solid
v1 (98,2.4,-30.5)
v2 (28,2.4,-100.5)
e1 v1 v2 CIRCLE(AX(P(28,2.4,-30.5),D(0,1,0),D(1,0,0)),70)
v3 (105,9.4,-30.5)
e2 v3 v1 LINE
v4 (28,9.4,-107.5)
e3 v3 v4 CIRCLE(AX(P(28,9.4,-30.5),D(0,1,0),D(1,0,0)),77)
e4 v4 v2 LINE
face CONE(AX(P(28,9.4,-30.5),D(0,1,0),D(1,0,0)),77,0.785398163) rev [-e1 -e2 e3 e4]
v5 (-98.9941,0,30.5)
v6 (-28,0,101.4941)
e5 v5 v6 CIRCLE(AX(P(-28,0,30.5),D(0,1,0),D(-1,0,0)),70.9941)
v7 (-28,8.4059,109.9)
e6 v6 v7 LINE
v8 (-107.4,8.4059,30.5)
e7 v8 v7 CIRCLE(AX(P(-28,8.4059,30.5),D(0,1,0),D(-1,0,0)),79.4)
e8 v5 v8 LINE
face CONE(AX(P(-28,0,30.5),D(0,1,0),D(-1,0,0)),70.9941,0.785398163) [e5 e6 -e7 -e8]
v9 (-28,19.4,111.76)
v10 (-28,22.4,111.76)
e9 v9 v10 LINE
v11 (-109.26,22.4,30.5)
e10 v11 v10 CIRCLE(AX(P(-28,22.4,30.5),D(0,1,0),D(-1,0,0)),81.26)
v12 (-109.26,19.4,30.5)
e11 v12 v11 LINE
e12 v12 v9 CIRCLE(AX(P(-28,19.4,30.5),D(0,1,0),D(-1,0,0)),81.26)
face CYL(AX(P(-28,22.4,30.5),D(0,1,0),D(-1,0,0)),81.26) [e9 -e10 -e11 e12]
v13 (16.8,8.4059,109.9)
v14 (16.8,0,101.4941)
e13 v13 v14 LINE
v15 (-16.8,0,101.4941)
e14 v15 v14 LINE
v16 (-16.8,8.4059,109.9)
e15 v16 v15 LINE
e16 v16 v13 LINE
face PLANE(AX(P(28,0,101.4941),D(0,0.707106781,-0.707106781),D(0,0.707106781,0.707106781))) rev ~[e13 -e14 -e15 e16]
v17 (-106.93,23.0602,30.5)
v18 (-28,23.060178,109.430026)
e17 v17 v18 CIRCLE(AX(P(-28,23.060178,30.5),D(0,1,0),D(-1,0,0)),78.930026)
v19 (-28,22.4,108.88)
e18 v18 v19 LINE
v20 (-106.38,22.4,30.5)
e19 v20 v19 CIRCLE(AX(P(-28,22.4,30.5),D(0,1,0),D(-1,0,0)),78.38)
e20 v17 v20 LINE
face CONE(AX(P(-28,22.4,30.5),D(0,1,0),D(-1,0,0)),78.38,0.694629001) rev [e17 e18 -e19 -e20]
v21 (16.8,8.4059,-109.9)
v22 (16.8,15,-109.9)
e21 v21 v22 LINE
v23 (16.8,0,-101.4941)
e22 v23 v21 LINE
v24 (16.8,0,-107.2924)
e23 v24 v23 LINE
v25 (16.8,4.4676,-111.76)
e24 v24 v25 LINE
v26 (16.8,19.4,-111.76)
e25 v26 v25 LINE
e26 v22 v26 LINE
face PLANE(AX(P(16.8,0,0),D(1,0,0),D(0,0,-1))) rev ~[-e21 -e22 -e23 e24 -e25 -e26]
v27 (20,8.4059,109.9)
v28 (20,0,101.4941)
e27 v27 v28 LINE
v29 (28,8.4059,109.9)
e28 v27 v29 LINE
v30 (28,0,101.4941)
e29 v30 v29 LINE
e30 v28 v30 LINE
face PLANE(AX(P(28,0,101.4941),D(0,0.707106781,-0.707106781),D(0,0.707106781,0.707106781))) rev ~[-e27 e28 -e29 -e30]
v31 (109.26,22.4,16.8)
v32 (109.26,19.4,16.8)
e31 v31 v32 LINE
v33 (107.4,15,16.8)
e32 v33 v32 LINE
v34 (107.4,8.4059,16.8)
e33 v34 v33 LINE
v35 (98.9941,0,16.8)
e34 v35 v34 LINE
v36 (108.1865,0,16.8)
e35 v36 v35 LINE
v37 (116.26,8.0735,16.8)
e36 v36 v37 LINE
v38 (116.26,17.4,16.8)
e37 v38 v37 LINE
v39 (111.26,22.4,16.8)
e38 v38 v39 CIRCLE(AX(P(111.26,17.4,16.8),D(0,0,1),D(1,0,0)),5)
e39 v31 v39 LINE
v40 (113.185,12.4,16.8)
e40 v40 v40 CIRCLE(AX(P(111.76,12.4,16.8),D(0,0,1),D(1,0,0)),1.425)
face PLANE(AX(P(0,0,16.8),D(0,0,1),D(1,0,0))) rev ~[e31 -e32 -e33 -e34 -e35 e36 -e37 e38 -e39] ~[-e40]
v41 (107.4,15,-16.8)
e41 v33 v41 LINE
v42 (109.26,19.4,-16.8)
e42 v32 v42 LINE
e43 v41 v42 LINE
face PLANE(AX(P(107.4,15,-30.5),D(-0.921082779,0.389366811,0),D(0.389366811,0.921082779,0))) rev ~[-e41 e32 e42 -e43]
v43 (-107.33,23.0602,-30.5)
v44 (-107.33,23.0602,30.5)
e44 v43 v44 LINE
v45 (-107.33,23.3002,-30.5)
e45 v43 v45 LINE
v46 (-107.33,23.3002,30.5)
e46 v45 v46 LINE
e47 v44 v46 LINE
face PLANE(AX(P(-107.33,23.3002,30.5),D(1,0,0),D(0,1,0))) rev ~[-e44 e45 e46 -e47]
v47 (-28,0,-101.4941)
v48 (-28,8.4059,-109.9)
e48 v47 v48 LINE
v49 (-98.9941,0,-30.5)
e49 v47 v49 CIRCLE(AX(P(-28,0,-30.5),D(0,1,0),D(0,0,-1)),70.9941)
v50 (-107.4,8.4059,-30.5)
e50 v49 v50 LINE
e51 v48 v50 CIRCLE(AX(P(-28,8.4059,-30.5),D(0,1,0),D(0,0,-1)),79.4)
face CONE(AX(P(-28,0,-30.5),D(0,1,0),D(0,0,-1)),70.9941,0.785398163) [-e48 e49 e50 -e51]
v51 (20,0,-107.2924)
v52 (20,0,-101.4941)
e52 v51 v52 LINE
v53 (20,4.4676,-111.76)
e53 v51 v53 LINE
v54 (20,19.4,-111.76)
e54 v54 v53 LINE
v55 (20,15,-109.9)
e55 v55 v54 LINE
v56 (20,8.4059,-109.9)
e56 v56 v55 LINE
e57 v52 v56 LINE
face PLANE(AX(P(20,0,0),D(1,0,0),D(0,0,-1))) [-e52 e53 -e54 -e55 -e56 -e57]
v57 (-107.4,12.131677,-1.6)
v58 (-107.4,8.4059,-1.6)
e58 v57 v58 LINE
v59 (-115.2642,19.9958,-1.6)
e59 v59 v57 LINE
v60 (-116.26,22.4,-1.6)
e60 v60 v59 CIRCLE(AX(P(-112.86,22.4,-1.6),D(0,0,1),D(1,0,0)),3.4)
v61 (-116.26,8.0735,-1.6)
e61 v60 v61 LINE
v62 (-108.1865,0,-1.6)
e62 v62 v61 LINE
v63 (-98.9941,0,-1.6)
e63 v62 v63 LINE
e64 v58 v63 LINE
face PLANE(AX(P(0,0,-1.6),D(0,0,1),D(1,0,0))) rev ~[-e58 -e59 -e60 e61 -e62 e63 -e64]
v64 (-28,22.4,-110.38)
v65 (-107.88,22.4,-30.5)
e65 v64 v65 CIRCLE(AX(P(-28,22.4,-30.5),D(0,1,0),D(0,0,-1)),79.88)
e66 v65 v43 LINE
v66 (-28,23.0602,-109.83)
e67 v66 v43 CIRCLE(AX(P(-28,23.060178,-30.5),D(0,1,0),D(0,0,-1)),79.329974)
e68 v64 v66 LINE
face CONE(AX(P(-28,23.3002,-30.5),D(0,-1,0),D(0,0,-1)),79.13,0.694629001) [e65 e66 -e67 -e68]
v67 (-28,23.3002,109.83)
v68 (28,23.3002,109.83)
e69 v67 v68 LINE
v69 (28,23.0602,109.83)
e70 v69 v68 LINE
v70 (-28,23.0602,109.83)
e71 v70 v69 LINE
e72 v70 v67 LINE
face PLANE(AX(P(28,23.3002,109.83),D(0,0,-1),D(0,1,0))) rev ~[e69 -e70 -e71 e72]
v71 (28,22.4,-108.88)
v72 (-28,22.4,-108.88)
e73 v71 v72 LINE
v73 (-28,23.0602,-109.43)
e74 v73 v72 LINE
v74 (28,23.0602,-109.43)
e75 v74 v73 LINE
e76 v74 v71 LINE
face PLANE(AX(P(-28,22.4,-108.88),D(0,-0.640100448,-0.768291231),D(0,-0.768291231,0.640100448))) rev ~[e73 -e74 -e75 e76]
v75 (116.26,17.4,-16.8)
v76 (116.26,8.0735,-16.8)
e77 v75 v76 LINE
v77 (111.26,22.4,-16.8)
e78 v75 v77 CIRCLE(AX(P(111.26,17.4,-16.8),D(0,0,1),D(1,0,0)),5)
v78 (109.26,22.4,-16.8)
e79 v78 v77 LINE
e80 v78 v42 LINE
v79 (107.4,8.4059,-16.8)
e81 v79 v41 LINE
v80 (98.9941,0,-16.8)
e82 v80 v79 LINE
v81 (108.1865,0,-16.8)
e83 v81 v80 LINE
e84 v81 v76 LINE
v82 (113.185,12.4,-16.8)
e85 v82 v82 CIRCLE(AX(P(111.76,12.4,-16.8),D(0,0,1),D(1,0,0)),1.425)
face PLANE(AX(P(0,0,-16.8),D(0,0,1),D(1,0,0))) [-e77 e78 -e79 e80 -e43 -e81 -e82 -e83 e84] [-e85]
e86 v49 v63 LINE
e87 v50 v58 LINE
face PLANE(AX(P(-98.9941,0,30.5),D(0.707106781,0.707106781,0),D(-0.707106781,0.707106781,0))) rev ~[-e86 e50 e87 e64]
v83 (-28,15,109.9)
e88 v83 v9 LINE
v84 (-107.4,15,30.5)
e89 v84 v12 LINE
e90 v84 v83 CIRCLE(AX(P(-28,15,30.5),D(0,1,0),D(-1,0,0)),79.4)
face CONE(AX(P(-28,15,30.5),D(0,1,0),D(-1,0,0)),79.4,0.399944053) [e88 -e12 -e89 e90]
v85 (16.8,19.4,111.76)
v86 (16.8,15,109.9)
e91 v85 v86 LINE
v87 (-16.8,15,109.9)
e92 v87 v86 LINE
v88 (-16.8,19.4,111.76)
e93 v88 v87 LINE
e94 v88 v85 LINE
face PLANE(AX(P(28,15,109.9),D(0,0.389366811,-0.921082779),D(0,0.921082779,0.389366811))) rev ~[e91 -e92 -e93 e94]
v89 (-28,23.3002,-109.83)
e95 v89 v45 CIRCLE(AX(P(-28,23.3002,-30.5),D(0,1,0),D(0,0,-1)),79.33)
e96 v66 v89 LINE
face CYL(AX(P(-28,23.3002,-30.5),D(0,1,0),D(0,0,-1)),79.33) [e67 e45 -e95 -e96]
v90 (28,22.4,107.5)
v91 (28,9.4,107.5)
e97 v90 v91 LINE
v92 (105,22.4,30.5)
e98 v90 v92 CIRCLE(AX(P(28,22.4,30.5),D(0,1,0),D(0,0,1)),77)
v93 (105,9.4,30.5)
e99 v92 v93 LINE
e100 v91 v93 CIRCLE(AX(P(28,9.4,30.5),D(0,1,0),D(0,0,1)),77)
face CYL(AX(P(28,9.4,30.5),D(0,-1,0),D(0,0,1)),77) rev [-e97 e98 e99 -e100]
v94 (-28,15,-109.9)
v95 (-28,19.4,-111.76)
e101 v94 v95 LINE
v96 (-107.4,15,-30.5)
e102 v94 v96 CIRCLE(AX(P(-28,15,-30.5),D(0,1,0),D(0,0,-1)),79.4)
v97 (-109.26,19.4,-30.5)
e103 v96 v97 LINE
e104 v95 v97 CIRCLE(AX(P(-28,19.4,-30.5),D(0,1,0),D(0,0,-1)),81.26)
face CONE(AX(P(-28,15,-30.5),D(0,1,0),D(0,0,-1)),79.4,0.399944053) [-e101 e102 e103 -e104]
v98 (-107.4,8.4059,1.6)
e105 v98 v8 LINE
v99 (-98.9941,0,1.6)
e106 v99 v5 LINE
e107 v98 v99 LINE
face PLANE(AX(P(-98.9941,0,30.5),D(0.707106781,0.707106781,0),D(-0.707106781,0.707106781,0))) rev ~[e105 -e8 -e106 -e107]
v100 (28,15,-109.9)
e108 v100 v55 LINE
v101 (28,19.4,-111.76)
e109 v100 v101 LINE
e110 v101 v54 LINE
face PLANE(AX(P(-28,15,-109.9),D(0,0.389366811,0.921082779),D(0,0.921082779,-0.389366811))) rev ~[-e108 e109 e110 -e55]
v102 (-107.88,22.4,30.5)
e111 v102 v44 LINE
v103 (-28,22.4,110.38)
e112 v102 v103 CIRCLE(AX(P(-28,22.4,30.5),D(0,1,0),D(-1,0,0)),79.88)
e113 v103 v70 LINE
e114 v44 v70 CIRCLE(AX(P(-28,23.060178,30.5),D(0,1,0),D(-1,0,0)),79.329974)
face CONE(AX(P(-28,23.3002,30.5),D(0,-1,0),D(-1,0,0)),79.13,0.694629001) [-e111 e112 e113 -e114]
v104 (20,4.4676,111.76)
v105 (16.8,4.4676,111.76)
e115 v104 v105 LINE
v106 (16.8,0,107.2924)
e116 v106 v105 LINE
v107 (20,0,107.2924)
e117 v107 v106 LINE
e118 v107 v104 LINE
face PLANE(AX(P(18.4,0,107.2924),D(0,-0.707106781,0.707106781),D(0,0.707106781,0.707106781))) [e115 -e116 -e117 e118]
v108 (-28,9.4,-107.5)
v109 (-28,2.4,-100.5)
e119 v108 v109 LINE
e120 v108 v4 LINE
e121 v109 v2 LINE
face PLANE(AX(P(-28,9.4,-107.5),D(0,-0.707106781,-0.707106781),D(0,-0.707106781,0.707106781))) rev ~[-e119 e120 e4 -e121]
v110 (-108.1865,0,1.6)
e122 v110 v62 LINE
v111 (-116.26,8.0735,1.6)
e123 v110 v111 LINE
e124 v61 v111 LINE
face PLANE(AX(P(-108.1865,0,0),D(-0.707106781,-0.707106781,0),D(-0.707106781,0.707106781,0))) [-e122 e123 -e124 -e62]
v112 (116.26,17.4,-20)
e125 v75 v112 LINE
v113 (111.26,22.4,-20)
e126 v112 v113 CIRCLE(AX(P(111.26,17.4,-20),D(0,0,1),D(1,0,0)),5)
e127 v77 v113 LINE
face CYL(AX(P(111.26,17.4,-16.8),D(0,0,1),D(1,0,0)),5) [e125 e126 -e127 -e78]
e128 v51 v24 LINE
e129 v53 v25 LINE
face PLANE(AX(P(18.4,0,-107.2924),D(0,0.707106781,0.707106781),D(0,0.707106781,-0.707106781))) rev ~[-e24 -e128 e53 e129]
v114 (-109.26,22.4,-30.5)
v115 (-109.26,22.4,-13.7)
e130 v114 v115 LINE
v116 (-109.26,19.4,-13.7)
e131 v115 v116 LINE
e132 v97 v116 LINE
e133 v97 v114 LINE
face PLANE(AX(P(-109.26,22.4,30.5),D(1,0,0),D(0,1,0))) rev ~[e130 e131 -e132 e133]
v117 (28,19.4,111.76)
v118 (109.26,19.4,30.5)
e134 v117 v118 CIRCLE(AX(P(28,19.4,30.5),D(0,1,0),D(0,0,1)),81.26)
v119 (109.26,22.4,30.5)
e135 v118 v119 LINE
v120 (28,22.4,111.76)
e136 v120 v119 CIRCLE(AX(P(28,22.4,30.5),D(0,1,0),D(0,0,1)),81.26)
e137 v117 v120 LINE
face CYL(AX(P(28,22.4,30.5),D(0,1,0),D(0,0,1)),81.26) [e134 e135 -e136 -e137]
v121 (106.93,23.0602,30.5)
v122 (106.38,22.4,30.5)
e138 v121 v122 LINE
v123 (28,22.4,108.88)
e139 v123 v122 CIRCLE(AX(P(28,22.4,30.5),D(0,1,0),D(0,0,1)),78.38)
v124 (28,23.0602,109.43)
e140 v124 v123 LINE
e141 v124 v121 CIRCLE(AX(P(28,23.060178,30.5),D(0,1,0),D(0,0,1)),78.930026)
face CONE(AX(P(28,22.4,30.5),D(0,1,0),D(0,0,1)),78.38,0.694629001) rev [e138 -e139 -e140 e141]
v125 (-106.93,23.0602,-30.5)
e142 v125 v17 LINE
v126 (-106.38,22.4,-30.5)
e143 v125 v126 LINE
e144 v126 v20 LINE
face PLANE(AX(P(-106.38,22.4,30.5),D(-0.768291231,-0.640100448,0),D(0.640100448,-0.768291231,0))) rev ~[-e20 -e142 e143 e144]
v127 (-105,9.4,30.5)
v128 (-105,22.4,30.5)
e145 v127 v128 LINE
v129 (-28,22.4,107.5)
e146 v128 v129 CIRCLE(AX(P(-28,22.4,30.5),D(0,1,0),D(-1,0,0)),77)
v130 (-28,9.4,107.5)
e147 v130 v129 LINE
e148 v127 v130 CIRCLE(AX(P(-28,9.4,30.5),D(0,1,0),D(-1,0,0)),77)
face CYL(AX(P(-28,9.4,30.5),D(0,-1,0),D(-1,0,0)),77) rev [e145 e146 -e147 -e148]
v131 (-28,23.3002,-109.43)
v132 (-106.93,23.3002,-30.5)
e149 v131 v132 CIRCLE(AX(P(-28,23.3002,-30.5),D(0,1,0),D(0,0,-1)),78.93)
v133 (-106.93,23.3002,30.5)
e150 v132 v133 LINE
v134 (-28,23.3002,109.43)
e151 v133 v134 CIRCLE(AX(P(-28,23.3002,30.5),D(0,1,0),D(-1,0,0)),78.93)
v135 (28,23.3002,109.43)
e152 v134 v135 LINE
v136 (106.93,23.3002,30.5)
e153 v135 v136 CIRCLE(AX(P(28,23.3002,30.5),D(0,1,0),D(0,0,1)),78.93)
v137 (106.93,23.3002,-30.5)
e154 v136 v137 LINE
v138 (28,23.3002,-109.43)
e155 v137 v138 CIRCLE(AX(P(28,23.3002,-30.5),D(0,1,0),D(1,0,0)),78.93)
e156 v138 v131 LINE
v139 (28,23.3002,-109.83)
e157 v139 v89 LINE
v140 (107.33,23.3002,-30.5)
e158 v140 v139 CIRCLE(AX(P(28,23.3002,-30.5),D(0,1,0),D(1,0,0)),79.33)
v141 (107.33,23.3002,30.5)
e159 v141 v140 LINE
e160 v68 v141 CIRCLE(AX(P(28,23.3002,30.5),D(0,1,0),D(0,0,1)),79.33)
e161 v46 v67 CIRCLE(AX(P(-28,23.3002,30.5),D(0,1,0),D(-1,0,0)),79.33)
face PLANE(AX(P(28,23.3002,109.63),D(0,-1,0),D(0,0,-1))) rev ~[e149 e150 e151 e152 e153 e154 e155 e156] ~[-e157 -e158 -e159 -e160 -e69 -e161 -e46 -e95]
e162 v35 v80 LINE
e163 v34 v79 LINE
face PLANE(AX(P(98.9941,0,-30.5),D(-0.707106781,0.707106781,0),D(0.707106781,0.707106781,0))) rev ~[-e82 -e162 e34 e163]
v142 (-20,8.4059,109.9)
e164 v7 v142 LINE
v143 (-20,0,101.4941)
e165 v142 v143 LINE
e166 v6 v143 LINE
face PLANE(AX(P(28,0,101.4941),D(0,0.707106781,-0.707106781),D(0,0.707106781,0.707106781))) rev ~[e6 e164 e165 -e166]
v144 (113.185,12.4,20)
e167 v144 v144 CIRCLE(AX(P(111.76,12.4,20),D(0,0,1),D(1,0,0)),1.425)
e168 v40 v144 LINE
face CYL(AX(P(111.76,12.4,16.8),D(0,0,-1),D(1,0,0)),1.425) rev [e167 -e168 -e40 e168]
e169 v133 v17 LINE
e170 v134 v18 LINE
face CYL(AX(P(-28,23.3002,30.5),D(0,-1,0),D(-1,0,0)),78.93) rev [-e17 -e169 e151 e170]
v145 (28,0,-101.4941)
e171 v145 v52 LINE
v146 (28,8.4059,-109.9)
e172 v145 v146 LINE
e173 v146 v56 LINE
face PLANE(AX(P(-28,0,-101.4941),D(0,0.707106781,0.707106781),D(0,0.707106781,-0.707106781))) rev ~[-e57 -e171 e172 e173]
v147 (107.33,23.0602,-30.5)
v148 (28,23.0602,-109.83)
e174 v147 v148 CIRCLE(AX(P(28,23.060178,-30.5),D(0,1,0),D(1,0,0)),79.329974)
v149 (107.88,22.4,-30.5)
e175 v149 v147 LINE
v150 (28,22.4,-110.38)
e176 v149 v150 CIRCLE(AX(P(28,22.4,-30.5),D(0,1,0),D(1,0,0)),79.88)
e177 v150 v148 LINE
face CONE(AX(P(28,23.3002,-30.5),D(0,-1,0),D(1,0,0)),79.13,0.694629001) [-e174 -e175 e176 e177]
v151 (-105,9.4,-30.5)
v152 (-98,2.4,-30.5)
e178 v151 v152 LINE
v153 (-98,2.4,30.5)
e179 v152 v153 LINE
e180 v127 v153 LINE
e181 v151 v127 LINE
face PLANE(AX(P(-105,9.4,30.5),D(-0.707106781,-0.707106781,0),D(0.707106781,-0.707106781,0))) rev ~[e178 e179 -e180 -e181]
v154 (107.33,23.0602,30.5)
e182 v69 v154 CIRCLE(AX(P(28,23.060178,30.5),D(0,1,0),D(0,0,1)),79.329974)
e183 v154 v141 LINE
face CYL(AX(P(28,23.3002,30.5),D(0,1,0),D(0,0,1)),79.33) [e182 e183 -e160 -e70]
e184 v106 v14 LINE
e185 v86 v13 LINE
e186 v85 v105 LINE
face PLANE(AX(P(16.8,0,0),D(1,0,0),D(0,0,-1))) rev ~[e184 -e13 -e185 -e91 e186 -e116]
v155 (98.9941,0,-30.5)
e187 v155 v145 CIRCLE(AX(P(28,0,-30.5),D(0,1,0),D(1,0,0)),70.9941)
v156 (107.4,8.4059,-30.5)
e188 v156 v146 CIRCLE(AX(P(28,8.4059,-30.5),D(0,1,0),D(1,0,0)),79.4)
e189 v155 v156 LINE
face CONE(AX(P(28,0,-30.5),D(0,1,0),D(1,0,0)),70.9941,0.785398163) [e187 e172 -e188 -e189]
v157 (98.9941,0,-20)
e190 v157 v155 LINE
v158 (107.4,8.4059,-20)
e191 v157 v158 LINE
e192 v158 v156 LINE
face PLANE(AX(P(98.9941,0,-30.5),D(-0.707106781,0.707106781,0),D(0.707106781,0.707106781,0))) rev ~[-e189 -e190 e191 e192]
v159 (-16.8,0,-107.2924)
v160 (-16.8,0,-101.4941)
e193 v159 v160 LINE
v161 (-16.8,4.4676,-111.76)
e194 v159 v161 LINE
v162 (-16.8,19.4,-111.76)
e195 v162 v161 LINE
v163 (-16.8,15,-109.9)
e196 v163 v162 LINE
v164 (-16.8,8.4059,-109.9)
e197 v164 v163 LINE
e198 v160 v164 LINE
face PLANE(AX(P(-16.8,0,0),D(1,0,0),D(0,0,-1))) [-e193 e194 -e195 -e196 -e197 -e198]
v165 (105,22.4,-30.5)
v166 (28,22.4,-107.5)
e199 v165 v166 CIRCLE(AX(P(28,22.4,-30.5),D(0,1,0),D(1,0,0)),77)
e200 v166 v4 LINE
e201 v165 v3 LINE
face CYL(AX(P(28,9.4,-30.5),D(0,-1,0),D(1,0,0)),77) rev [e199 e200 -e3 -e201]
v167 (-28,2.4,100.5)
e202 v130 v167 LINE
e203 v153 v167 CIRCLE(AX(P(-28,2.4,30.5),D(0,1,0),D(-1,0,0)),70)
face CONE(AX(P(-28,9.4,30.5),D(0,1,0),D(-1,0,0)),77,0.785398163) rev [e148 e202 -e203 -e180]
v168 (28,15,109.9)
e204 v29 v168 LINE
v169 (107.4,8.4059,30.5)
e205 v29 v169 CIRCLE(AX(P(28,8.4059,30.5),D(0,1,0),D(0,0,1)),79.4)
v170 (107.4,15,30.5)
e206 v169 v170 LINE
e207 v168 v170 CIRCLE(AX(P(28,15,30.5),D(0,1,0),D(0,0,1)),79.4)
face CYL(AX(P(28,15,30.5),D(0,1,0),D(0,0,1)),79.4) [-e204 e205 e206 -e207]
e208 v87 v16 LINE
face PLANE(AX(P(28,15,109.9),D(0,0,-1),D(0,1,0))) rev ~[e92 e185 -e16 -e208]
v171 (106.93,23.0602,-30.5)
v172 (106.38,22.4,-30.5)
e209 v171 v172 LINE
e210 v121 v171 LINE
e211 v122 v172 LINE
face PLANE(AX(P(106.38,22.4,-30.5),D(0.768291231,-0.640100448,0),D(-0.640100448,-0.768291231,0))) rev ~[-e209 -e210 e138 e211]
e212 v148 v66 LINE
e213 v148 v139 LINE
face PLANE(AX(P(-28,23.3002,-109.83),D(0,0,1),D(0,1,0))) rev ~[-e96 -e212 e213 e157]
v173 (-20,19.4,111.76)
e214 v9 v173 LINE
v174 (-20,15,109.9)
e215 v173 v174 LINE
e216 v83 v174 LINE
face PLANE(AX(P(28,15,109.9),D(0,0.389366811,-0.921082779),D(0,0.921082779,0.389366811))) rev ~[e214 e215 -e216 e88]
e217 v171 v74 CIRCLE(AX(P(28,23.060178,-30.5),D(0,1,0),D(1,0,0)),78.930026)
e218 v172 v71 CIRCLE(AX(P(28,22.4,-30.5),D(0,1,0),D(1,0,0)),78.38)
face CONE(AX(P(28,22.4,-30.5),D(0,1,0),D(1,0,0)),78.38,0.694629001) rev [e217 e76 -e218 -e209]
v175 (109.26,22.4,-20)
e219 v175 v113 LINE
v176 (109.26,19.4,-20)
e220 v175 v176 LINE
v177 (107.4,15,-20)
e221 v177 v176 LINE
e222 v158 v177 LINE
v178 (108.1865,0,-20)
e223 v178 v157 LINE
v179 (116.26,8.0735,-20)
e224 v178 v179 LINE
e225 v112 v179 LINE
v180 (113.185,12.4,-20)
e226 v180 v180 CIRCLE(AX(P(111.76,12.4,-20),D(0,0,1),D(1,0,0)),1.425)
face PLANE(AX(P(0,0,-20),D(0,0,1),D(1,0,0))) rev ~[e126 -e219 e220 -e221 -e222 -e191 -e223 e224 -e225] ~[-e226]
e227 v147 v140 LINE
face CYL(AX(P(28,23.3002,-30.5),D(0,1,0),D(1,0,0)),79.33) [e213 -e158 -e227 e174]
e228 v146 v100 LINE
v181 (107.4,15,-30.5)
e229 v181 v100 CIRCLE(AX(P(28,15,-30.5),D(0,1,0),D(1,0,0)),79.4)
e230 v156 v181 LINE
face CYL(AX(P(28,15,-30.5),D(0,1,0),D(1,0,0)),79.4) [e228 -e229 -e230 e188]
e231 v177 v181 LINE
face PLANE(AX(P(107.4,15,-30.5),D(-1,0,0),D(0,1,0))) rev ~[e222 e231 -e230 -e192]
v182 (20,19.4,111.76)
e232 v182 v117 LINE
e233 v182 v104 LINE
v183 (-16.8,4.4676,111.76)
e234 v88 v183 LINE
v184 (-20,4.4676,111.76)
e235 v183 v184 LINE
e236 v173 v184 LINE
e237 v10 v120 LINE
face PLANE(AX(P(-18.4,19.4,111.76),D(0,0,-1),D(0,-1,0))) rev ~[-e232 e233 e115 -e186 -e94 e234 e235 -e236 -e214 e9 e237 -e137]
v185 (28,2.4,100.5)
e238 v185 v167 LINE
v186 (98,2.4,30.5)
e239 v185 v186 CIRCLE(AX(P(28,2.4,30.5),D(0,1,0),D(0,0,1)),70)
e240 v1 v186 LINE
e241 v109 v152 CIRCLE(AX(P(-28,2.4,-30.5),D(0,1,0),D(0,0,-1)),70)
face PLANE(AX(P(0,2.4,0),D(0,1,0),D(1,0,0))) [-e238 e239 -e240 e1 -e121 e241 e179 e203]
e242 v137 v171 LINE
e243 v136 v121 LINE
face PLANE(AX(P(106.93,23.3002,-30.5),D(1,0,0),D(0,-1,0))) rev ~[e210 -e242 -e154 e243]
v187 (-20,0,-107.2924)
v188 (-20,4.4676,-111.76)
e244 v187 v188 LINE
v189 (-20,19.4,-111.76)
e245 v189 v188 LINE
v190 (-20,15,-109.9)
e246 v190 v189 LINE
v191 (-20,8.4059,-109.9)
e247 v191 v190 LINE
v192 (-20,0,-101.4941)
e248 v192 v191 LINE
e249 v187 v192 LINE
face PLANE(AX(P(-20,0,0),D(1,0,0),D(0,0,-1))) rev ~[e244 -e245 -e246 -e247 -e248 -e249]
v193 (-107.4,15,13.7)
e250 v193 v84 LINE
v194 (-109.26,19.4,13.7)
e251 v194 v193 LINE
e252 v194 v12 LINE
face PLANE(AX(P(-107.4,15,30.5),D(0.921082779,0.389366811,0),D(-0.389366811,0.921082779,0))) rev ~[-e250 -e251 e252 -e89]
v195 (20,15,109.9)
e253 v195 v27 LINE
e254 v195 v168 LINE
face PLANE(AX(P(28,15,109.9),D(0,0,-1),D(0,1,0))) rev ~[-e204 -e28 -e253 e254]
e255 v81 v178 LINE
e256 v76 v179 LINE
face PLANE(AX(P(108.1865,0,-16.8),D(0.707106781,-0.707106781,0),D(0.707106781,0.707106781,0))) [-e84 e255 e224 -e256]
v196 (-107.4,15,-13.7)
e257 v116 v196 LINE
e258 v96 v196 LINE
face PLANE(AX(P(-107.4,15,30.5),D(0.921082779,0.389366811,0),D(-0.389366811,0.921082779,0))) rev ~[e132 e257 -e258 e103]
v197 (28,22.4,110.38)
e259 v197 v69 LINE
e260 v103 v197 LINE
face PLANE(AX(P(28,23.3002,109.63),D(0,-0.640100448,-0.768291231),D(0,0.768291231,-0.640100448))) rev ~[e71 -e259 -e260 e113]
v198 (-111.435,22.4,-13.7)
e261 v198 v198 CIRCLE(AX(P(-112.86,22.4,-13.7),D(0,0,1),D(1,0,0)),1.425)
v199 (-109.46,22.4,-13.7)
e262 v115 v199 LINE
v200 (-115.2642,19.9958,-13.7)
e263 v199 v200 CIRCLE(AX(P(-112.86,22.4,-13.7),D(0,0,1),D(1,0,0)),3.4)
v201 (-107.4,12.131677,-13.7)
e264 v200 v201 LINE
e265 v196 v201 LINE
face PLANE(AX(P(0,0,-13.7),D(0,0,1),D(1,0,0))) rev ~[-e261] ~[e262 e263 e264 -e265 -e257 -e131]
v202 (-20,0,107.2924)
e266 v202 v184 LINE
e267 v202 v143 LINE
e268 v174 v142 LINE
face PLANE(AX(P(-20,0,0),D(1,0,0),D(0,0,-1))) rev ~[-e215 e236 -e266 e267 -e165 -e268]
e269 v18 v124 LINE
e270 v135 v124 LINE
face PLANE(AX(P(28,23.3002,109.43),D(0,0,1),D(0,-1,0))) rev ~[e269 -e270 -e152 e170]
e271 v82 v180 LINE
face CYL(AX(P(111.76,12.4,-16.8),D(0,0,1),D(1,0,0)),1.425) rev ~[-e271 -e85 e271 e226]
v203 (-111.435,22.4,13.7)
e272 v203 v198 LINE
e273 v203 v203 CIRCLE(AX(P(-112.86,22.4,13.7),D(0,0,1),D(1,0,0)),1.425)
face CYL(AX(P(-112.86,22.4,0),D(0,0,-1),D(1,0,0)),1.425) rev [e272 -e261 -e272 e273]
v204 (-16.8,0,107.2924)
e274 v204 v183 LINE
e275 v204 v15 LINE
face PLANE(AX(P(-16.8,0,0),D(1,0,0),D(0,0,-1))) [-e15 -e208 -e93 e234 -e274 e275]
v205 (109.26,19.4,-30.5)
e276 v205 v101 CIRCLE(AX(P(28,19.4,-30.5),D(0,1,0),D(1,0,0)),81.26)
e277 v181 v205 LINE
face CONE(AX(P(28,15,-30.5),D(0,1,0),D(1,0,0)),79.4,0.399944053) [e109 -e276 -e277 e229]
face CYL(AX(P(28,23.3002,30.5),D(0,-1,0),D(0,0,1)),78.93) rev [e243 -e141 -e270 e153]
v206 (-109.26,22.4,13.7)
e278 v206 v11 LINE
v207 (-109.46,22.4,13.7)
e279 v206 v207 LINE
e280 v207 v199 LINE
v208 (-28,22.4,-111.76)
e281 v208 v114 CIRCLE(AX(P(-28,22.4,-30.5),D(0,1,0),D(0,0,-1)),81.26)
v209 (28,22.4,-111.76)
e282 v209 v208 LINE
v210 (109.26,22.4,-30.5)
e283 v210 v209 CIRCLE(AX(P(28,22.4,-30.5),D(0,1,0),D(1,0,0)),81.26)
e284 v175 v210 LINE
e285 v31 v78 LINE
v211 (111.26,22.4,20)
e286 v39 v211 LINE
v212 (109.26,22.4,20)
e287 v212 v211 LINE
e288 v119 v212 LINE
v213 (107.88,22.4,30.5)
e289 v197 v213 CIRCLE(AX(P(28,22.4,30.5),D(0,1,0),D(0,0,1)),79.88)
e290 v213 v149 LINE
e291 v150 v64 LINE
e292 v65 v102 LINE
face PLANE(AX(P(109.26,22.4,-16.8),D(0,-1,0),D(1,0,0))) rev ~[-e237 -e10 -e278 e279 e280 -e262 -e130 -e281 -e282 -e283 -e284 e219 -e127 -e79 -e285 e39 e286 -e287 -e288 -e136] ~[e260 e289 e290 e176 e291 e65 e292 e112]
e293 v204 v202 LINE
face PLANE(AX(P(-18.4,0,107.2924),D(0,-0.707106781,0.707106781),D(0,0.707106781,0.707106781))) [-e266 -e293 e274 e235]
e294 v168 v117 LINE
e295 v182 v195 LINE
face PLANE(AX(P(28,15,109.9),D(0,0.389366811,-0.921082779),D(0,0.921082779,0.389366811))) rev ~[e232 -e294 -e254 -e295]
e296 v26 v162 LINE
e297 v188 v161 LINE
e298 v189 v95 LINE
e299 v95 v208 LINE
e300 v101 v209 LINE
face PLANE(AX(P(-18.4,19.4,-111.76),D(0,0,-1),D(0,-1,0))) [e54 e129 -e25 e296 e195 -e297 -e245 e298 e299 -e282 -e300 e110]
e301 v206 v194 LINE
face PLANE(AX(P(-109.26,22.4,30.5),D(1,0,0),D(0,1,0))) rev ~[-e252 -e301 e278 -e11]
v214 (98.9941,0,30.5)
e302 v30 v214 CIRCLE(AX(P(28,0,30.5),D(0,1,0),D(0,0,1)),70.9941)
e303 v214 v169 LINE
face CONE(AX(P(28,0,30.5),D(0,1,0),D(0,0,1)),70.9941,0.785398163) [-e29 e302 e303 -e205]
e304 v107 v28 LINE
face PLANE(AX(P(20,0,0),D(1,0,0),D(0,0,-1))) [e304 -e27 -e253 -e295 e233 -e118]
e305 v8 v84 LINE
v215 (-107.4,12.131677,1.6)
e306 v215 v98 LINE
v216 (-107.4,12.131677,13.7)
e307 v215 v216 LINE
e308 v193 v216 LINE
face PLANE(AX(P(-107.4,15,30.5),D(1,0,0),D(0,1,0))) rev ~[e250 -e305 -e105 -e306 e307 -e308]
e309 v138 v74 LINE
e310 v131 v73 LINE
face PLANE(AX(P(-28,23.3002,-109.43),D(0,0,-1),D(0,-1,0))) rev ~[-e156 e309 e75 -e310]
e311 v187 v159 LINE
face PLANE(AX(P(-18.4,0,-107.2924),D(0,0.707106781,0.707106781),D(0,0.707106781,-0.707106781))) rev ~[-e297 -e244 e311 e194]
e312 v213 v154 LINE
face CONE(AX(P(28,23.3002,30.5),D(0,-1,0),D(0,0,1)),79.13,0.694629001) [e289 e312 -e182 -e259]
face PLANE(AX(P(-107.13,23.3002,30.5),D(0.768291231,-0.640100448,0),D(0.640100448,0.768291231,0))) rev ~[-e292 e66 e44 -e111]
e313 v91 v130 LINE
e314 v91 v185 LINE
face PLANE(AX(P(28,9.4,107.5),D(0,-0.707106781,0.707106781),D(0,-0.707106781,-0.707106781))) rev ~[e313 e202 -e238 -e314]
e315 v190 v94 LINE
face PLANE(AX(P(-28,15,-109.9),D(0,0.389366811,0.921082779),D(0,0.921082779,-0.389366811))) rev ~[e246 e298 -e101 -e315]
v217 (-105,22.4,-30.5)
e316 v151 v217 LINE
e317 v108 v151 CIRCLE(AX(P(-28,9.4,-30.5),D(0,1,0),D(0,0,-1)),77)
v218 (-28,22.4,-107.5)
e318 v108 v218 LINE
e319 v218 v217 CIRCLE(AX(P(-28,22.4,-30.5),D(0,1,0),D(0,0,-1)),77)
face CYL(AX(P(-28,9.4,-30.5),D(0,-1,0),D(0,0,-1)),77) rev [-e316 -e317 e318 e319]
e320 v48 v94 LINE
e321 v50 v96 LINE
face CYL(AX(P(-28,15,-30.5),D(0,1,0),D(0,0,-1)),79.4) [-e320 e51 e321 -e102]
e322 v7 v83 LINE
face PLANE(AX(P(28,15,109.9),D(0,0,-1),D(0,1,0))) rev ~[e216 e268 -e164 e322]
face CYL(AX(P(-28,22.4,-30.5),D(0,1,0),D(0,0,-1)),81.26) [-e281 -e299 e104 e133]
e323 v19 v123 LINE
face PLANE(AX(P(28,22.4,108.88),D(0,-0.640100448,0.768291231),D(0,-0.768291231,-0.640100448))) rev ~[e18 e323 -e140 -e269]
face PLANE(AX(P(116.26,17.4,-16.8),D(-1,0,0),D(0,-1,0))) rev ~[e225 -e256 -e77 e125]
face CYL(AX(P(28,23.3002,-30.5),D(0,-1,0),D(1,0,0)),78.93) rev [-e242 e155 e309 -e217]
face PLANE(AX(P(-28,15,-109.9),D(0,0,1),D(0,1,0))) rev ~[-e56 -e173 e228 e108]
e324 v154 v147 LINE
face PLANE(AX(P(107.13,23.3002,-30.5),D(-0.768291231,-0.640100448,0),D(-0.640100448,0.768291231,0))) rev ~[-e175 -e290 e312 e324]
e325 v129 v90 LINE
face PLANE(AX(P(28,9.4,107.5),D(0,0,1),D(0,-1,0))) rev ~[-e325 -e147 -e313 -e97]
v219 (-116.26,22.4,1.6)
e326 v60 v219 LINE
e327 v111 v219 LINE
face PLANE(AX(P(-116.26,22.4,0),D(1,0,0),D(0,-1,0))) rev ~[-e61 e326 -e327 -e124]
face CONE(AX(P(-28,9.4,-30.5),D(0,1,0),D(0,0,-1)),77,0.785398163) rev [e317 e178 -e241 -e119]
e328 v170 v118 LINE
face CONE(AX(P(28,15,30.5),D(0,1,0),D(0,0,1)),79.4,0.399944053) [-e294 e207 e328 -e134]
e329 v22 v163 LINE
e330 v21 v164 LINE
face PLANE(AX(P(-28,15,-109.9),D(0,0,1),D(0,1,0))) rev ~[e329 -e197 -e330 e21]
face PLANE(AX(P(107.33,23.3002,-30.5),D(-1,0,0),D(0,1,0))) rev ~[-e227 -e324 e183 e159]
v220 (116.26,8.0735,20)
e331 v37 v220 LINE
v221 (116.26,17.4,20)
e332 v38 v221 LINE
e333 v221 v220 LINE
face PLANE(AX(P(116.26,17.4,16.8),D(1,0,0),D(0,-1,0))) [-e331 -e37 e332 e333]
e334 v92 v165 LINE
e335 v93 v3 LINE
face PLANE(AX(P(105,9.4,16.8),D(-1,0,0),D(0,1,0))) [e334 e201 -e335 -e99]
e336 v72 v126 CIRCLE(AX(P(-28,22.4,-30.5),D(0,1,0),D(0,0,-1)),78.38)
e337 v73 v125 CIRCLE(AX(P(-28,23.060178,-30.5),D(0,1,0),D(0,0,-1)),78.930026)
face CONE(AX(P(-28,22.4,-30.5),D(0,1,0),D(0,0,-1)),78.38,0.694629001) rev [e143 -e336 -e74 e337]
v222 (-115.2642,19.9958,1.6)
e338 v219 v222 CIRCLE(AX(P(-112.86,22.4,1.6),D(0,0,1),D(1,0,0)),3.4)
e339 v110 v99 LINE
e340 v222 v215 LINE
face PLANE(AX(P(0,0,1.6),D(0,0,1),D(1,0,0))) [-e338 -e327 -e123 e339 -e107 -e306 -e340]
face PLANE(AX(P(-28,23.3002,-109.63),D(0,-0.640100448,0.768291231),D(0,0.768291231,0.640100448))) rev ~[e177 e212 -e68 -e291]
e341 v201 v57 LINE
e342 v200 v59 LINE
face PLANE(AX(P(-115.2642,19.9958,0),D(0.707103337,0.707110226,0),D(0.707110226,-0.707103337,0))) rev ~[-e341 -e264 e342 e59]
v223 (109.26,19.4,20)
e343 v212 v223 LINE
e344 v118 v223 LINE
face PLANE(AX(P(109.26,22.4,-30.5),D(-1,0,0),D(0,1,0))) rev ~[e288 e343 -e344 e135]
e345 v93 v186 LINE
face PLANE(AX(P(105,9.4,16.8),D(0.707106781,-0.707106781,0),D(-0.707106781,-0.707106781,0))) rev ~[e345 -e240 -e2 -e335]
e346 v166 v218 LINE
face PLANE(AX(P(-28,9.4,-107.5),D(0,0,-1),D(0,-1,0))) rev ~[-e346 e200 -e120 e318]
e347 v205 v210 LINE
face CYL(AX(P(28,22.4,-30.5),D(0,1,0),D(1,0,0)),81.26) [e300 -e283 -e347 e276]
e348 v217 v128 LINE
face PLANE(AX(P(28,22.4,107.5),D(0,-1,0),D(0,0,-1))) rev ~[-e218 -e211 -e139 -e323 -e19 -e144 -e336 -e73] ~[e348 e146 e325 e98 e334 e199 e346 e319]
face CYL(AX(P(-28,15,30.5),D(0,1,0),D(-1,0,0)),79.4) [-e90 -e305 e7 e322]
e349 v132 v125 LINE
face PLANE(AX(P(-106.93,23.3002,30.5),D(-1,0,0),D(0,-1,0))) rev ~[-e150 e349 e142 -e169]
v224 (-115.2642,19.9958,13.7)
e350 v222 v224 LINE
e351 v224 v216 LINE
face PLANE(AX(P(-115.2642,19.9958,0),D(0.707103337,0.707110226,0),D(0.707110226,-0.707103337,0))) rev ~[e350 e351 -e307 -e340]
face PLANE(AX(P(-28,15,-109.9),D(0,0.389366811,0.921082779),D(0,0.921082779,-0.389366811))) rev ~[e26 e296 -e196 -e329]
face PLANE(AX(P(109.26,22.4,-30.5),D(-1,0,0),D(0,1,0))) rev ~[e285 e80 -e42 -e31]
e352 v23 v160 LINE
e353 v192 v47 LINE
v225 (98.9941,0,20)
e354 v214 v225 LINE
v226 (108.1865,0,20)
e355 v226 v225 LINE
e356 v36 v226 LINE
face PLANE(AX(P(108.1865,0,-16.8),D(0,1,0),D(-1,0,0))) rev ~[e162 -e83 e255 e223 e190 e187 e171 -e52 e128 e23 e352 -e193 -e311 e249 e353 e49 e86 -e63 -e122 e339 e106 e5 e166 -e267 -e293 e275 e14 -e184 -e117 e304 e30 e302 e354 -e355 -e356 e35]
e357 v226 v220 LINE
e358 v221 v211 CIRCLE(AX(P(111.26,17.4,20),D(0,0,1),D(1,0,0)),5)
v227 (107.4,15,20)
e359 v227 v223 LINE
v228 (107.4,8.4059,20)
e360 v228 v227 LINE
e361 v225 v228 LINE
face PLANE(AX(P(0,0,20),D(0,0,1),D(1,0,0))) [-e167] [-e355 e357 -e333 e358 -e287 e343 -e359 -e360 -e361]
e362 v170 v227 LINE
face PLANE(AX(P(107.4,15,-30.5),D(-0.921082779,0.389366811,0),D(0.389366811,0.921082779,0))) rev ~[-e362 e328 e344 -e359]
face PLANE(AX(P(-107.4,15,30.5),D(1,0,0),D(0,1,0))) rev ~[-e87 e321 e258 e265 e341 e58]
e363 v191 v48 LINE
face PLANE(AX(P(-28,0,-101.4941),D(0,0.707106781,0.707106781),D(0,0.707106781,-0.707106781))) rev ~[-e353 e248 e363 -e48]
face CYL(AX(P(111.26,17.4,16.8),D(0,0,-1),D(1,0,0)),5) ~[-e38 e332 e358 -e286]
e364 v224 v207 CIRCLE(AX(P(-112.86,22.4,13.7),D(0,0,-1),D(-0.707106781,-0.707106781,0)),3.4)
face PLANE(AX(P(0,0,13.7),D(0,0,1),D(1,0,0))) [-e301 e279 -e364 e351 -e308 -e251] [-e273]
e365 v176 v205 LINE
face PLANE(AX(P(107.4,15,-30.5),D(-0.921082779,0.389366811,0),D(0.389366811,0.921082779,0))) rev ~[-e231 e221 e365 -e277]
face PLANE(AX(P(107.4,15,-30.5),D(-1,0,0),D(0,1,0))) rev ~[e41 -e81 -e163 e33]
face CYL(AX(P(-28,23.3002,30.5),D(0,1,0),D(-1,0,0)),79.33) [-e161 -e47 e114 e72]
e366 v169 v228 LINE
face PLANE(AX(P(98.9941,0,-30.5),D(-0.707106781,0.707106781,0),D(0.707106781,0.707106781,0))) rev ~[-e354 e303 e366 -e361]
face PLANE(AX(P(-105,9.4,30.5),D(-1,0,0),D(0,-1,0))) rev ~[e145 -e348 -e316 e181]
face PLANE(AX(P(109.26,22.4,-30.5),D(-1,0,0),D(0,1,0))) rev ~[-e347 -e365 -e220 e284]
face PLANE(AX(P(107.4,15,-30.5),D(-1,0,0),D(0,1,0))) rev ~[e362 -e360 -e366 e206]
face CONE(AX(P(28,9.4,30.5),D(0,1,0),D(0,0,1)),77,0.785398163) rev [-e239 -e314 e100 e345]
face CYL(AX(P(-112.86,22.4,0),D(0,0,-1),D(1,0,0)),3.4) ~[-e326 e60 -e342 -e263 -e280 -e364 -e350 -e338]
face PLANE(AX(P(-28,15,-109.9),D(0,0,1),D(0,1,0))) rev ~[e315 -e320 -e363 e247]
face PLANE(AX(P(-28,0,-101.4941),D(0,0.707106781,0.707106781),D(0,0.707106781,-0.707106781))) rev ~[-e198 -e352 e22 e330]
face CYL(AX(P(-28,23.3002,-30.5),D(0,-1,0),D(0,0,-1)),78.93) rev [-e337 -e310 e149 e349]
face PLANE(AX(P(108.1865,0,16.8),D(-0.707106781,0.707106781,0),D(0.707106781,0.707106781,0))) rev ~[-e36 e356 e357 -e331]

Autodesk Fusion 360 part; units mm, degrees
sketch "Sketch1" plane through (0, 0, 0) normal (0, 1, 0) x (1, 0, 0)
  line L0 (28, -100.5) -> (-28, -100.5)
  line L1 (-98, -30.5) -> (-98, 30.5)
  line L2 (-28, 100.5) -> (28, 100.5)
  line L3 (98, 30.5) -> (98, -30.5)
  line L4 (98, -100.5) -> (-98, 100.5) construction
  line L5 (-98, -100.5) -> (98, 100.5) construction
  arc A0 (-28, 100.5) -> (-98, 30.5) centre (-28, 30.5) ccw
  arc A1 (98, 30.5) -> (28, 100.5) centre (28, 30.5) ccw
  arc A2 (28, -100.5) -> (98, -30.5) centre (28, -30.5) ccw
  arc A3 (-98, -30.5) -> (-28, -100.5) centre (-28, -30.5) ccw
  line L6 (15, 100.5) -> (15, -100.5)
  line L7 (-15, 100.5) -> (-15, -100.5)
  line L8 (-98, 15) -> (98, 15)
  line L9 (-98, -15) -> (98, -15)
  line L10 (0, 0) -> (0, -36) construction
  circle A4 centre (0, -36) radius 1.85
  circle A5 centre (36, 0) radius 1.85
  circle A6 centre (0, 36) radius 1.85
  circle A7 centre (-36, 0) radius 1.85
  dimension "d6" = 201
  dimension "d7" = 196
  dimension "d8" = 70
  dimension "d9" = 70
  dimension "d10" = 70
  dimension "d11" = 70
  dimension "d150" = 15
  dimension "d151" = 15
  dimension "d176" = 15
  dimension "d177" = 15
  dimension "d218" = 36
  dimension "d219" = 3.7
  dimension "d221" = 360
sketch "Sketch2" plane through (0, 0, 0) normal (0, 0, 1) x (1, 0, 0)
  line L0 (0, 0) -> (98, 0)
  line L1 (98, 0) -> (98, 2.4)
  line L2 (105, 9.4) -> (105, 22.4)
  line L3 (105, 22.4) -> (106.23, 22.4)
  line L4 (106.23, 22.4) -> (106.23, 20.4)
  line L5 (106.23, 20.4) -> (108.03, 20.4)
  line L6 (108.03, 20.4) -> (108.03, 22.4)
  line L7 (108.03, 22.4) -> (109.26, 22.4)
  line L8 (109.26, 22.4) -> (109.26, 19.4)
  line L9 (108.1865, 0) -> (98, 0)
  line L10 (109.26, 19.4) -> (107.4, 19.4)
  line L11 (107.4, 19.4) -> (107.4, 15)
  line L12 (107.4, 15) -> (107.4, 8.4059)
  line L13 (107.4, 15) -> (109.26, 19.4)
  line L14 (105, 9.4) -> (98, 2.4)
  line L15 (98.9941, 0) -> (107.4, 8.4059)
  line L16 (108.1865, 0) -> (116.26, 8.0735)
  line L17 (109.26, 22.4) -> (111.26, 22.4)
  line L18 (116.26, 17.4) -> (116.26, 8.0735)
  arc A0 (116.26, 17.4) -> (111.26, 22.4) centre (111.26, 17.4) ccw
  circle A1 centre (111.76, 12.4) radius 1.425
  line L19 (0, 0) -> (0, 60)
  line L20 (-116.26, 17.4) -> (-116.26, 8.0735)
  line L21 (-106.23, 22.4) -> (-106.23, 20.4)
  line L22 (-107.4, 15) -> (-109.26, 19.4)
  line L23 (-105, 9.4) -> (-105, 22.4)
  line L24 (-98, 0) -> (-98, 2.4)
  line L25 (-106.23, 20.4) -> (-108.03, 20.4)
  line L26 (-98.9941, 0) -> (-107.4, 8.4059)
  line L27 (-107.4, 15) -> (-107.4, 8.4059)
  line L28 (-105, 9.4) -> (-98, 2.4)
  line L29 (-109.26, 22.4) -> (-109.26, 19.4)
  line L30 (-108.1865, 0) -> (-116.26, 8.0735)
  line L31 (-107.4, 19.4) -> (-107.4, 15)
  line L32 (-108.03, 22.4) -> (-109.26, 22.4)
  line L33 (-108.03, 20.4) -> (-108.03, 22.4)
  line L34 (-108.1865, 0) -> (-98, 0)
  line L35 (-109.26, 19.4) -> (-107.4, 19.4)
  line L36 (-105, 22.4) -> (-106.23, 22.4)
  line L37 (107.4, 19.4) -> (105, 19.4)
  line L38 (-107.4, 19.4) -> (-105, 19.4)
  circle A2 centre (-112.86, 22.4) radius 1.425
  circle A3 centre (-112.86, 22.4) radius 3.4
  line L39 (-116.26, 22.4) -> (-116.26, 17.4)
  line L40 (-109.26, 22.4) -> (-109.46, 22.4)
  line L41 (-115.2642, 19.9958) -> (-105, 9.7317)
  line L42 (-115.2642, 19.9958) -> (-39.091, 19.9958) construction
  line L43 (-109.26, 22.4) -> (-112.86, 22.4)
  line L44 (106.23, 22.4) -> (108.03, 22.4)
  line L45 (106.38, 22.4) -> (106.38, 20.4)
  line L46 (107.88, 22.4) -> (107.88, 20.4)
  line L47 (107.13, 22.4) -> (107.13, 23.3002)
  line L48 (106.38, 22.4) -> (107.13, 23.3002)
  line L49 (107.13, 23.3002) -> (107.88, 22.4)
  line L50 (107.13, 23.3002) -> (107.33, 23.3002)
  line L51 (107.33, 23.3002) -> (107.33, 23.0602)
  line L52 (107.13, 23.3002) -> (106.93, 23.3002)
  line L53 (106.93, 23.3002) -> (106.93, 23.0602)
  point P0 (116.26, 22.4)
  point P1 (-116.26, 22.4)
  dimension "d12" = 98
  dimension "d13" = 2.4
  dimension "d15" = 1.23
  dimension "d16" = 2
  dimension "d17" = 1.8
  dimension "d18" = 2
  dimension "d20" = 3
  dimension "d23" = 4.4
  dimension "d26" = 2.4
  dimension "d27" = 7
  dimension "d28" = 7
  dimension "d29" = 22.4
  dimension "d30" = 6.5
  dimension "d61" = 7
  dimension "d62" = 5
  dimension "d63" = 2.85
  dimension "d64" = 10
  dimension "d65" = 4.5
  dimension "d129" = 1.23
  dimension "d131" = 2.4
  dimension "d137" = 2.85
  dimension "d138" = 3.6
  dimension "d139" = 6.8
  dimension "d140" = 45
  dimension "d248" = 0.15
  dimension "d249" = 0.15
  dimension "d250" = 79.6
  dimension "d251" = 0.24
  dimension "d252" = 0.24
extrude "Extrude1" add sketch "Sketch1" along normal blind 2.4 contours L0 L3 A2 L6 L9 | L0 L6 L7 L9 | L0 L1 A3 L7 L9 | L6 L7 L8 L9 | L3 L6 L8 L9 | L1 L7 L8 L9 | L2 L6 L7 L8 | L2 L3 A1 L6 L8 | L1 L2 A0 L7 L8 | A4 | A5 | A6 | A7 makes body 1
sweep "Sweep1" add profiles "Sketch2" path "Sketch1" along A2 L0 A3 L1 A0 L2 A1 L3 section 1 contours L1 L2 L9 L11 L12 L14 L15 L37 | L2 L3 L4 L5 L6 L7 L8 L10 L37 | L10 L11 L13 | L4 L5 L44 L45 | L44 L47 L48 | L5 L44 L45 L46 | L5 L6 L44 L46 | L44 L47 L49 | L48 L52 L53 | L49 L50 L51 bodies 1
ref_plane "WorkPlane2" through (-18.4, 0, 0) normal (1, 0, 0) x (0, 1, 0)
sketch "Sketch4" plane through (-18.4, 0, 0) normal (1, 0, 0) x (0, 0, -1)
  line L0 (0, 0) -> (-100.5, 0)
  line L1 (-100.5, 0) -> (-100.5, 2.4)
  line L2 (-100.5, 2.4) -> (-107.5, 2.4)
  line L3 (-107.5, 2.4) -> (-107.5, 9.4)
  line L4 (-107.5, 9.4) -> (-100.5, 2.4)
  line L5 (-107.5, 2.4) -> (-107.5, 5)
  line L6 (-107.5, 2.4) -> (-107.5, 19.4)
  line L7 (-107.5, 19.4) -> (-111.76, 19.4)
  line L8 (-111.76, 19.4) -> (-111.76, 4.4676)
  line L9 (-107.2924, 0) -> (-100.5, 0)
  line L10 (-107.2924, 0) -> (-111.76, 4.4676)
  line L11 (0, 0) -> (0, 70)
  line L12 (107.2924, 0) -> (111.76, 4.4676)
  line L13 (107.2924, 0) -> (100.5, 0)
  line L14 (107.5, 2.4) -> (107.5, 5)
  line L15 (107.5, 2.4) -> (107.5, 19.4)
  line L16 (107.5, 9.4) -> (100.5, 2.4)
  line L17 (107.5, 2.4) -> (107.5, 9.4)
  line L18 (107.5, 19.4) -> (111.76, 19.4)
  line L19 (111.76, 19.4) -> (111.76, 4.4676)
  line L20 (100.5, 0) -> (100.5, 2.4)
  line L21 (100.5, 2.4) -> (107.5, 2.4)
  dimension "d47" = 100.5
  dimension "d48" = 2.4
  dimension "d49" = 7
  dimension "d50" = 7
  dimension "d52" = 4.26
  dimension "d53" = 6.5
  dimension "d56" = 19.4
extrude "Extrude2" add sketch "Sketch4" along normal mid plane 3.2 bodies 1
ref_plane "WorkPlane3" through (18.4, 0, 0) normal (1, 0, 0) x (0, 1, 0)
sketch "Sketch5" plane through (18.4, 0, 0) normal (1, 0, 0) x (0, 0, -1)
  line L0 (-107.5, 2.4) -> (-107.5, 19.4)
  line L1 (-107.5, 9.4) -> (-100.5, 2.4)
  line L2 (-100.5, 2.4) -> (-107.5, 2.4)
  line L3 (-100.5, 0) -> (-100.5, 2.4)
  line L4 (-107.2924, 0) -> (-100.5, 0)
  line L5 (-107.2924, 0) -> (-111.76, 4.4676)
  line L6 (-111.76, 19.4) -> (-111.76, 4.4676)
  line L7 (-107.5, 19.4) -> (-111.76, 19.4)
  line L8 (107.5, 19.4) -> (111.76, 19.4)
  line L9 (111.76, 19.4) -> (111.76, 4.4676)
  line L10 (107.5, 2.4) -> (107.5, 19.4)
  line L11 (107.5, 9.4) -> (100.5, 2.4)
  line L12 (100.5, 2.4) -> (107.5, 2.4)
  line L13 (107.2924, 0) -> (111.76, 4.4676)
  line L14 (100.5, 0) -> (100.5, 2.4)
  line L15 (107.2924, 0) -> (100.5, 0)
extrude "Extrude3" add sketch "Sketch5" along normal mid plane 3.2 bodies 1
ref_plane "WorkPlane4" through (0, 0, -16.8) normal (0, 0, 1) x (1, 0, 0)
sketch "Sketch6" plane through (0, 0, -16.8) normal (0, 0, 1) x (1, 0, 0)
  line L0 (109.26, 22.4) -> (111.26, 22.4)
  line L1 (116.26, 17.4) -> (116.26, 8.0735)
  arc A0 (116.26, 17.4) -> (111.26, 22.4) centre (111.26, 17.4) ccw
  line L2 (108.1865, 0) -> (116.26, 8.0735)
  line L3 (108.1865, 0) -> (98, 0)
  line L4 (98, 0) -> (98, 2.4)
  line L5 (105, 9.4) -> (98, 2.4)
  line L6 (105, 9.4) -> (105, 22.4)
  line L7 (107.4, 19.4) -> (105, 19.4)
  line L8 (109.26, 19.4) -> (107.4, 19.4)
  line L9 (109.26, 22.4) -> (109.26, 19.4)
  line L10 (-105, 9.4) -> (-105, 22.4)
  line L11 (-107.4, 19.4) -> (-105, 19.4)
  line L12 (-109.26, 19.4) -> (-107.4, 19.4)
  line L13 (-109.26, 22.4) -> (-109.26, 19.4)
  line L14 (-116.26, 17.4) -> (-116.26, 8.0735)
  line L15 (-108.1865, 0) -> (-116.26, 8.0735)
  line L16 (-108.1865, 0) -> (-98, 0)
  line L17 (-98, 0) -> (-98, 2.4)
  line L18 (-105, 9.4) -> (-98, 2.4)
  circle A1 centre (111.76, 12.4) radius 1.425
  line L19 (-116.26, 22.4) -> (-116.26, 17.4)
  circle A2 centre (-112.86, 22.4) radius 3.4
  circle A3 centre (-112.86, 22.4) radius 1.425
  line L20 (-109.26, 22.4) -> (-109.46, 22.4)
  line L21 (-115.2642, 19.9958) -> (-105, 9.7317)
  point P0 (116.26, 22.4)
  point P1 (111.76, 12.4)
extrude "Extrude10" add sketch "Sketch6" against normal blind 3.2 contours L0 L1 A0 L2 L3 L4 L5 L6 L7 L8 L9 bodies 1
ref_plane "WorkPlane5" through (0, 0, 16.8) normal (0, 0, 1) x (1, 0, 0)
sketch "Sketch7" plane through (0, 0, 16.8) normal (0, 0, 1) x (1, 0, 0)
  line L0 (-98, 0) -> (-98, 2.4)
  line L1 (-105, 9.4) -> (-98, 2.4)
  line L2 (-105, 9.4) -> (-105, 22.4)
  line L3 (-107.4, 19.4) -> (-105, 19.4)
  line L4 (-109.26, 19.4) -> (-107.4, 19.4)
  line L5 (-109.26, 22.4) -> (-109.26, 19.4)
  line L6 (-116.26, 17.4) -> (-116.26, 8.0735)
  line L7 (-108.1865, 0) -> (-116.26, 8.0735)
  line L8 (-108.1865, 0) -> (-98, 0)
  line L9 (98, 0) -> (98, 2.4)
  line L10 (105, 9.4) -> (98, 2.4)
  line L11 (105, 9.4) -> (105, 22.4)
  line L12 (107.4, 19.4) -> (105, 19.4)
  line L13 (109.26, 19.4) -> (107.4, 19.4)
  line L14 (109.26, 22.4) -> (109.26, 19.4)
  line L15 (109.26, 22.4) -> (111.26, 22.4)
  arc A0 (116.26, 17.4) -> (111.26, 22.4) centre (111.26, 17.4) ccw
  line L16 (116.26, 17.4) -> (116.26, 8.0735)
  line L17 (108.1865, 0) -> (116.26, 8.0735)
  line L18 (108.1865, 0) -> (98, 0)
  circle A1 centre (111.76, 12.4) radius 1.425
  line L19 (-116.26, 22.4) -> (-116.26, 17.4)
  circle A2 centre (-112.86, 22.4) radius 3.4
  line L20 (-109.26, 22.4) -> (-109.46, 22.4)
  circle A3 centre (-112.86, 22.4) radius 1.425
  line L21 (-115.2642, 19.9958) -> (-105, 9.7317)
extrude "Extrude11" add sketch "Sketch7" along normal blind 3.2 contours L9 L10 L11 L12 L13 L14 L15 A0 L16 L17 L18 bodies 1
sketch "Sketch16" plane through (0, 0, 0) normal (0, 0, 1) x (1, 0, 0)
  circle A0 centre (-112.86, 22.4) radius 3.4
  line L0 (-109.26, 22.4) -> (-109.26, 19.4)
  line L1 (-109.26, 19.4) -> (-107.4, 19.4)
  line L2 (-107.4, 19.4) -> (-105, 19.4)
  line L3 (-105, 9.4) -> (-105, 22.4)
  line L4 (-105, 9.4) -> (-98, 2.4)
  line L5 (-98, 0) -> (-98, 2.4)
  line L6 (-108.1865, 0) -> (-98, 0)
  line L7 (-108.1865, 0) -> (-116.26, 8.0735)
  line L8 (-115.2642, 19.9958) -> (-105, 9.7317)
  line L9 (-116.26, 17.4) -> (-116.26, 8.0735)
  line L10 (-116.26, 22.4) -> (-116.26, 17.4)
  circle A1 centre (-112.86, 22.4) radius 1.425
  line L11 (-109.26, 22.4) -> (-109.46, 22.4)
extrude "Extrude33" add sketch "Sketch16" along normal mid plane 27.4 contours A0 | A0 L0 L1 L2 L3 L8 L11 bodies 1
extrude "Extrude34" add sketch "Sketch16" along normal mid plane 3.2 contours A0 L3 L4 L5 L6 L7 L8 L9 L10 bodies 1
copy_body "Body->Comp1" bodies 1 removing the originals makes body 2 in component "Spool lid"
component "Spool lid" placed x (1, 0, 0) y (0, 1, 0) z (0, 0, 1) at (0, 0, 0)
equation "width = 210 mm" comment "Min=60 (Outer dimension + 22.4mm)"
equation "lengh = 215 mm" comment "Min=120 (Outer dimension + 8.4mm)"
equation "hight = 20 mm" comment "Min=20"
equation "d6 = lengh - 14 mm"
equation "d7 = width - 14 mm"
equation "d8 = rcorner"
equation "d9 = rcorner"
equation "d10 = rcorner"
equation "d11 = rcorner"
equation "d12 = width * 0.5 - 7 mm"
equation "d13 = tbox"
equation "d26 = tbox"
equation "d29 = hight + tbox"
equation "d31 = tbox"
equation "d46 = ( -wrib + trib ) * 0.5"
equation "d47 = lengh * 0.5 - 7 mm"
equation "d48 = tbox"
equation "d54 = trib / 2"
equation "d56 = hight - 3 mm + tbox"
equation "d57 = ( wrib - trib ) * 0.5"
equation "d58 = trib / 2"
equation "d60 = -wrib * 0.5 + trib"
equation "d63 = screwhole"
equation "d68 = wrib - 2 * trib"
equation "d81 = -trib"
equation "d83 = trib"
equation "screwhole = 2.85 mm" comment "For M3 screws"
equation "rcorner = 70 mm" comment "Min=1 Max=10"
equation "d131 = tbox"
equation "tbox = 2.4 mm" comment "Min=2 Max=4.2 Box thickness"
equation "trib = 3.2 mm" comment "Min=2.4 Max=3.6 Rib thickness"
equation "d137 = screwhole"
equation "wrib = 40 mm" comment "Width between two ribs"
equation "d244 = ( wrib - trib * 2 - 6 mm - 0.2 mm ) / 2"
equation "d246 = trib / 2"
